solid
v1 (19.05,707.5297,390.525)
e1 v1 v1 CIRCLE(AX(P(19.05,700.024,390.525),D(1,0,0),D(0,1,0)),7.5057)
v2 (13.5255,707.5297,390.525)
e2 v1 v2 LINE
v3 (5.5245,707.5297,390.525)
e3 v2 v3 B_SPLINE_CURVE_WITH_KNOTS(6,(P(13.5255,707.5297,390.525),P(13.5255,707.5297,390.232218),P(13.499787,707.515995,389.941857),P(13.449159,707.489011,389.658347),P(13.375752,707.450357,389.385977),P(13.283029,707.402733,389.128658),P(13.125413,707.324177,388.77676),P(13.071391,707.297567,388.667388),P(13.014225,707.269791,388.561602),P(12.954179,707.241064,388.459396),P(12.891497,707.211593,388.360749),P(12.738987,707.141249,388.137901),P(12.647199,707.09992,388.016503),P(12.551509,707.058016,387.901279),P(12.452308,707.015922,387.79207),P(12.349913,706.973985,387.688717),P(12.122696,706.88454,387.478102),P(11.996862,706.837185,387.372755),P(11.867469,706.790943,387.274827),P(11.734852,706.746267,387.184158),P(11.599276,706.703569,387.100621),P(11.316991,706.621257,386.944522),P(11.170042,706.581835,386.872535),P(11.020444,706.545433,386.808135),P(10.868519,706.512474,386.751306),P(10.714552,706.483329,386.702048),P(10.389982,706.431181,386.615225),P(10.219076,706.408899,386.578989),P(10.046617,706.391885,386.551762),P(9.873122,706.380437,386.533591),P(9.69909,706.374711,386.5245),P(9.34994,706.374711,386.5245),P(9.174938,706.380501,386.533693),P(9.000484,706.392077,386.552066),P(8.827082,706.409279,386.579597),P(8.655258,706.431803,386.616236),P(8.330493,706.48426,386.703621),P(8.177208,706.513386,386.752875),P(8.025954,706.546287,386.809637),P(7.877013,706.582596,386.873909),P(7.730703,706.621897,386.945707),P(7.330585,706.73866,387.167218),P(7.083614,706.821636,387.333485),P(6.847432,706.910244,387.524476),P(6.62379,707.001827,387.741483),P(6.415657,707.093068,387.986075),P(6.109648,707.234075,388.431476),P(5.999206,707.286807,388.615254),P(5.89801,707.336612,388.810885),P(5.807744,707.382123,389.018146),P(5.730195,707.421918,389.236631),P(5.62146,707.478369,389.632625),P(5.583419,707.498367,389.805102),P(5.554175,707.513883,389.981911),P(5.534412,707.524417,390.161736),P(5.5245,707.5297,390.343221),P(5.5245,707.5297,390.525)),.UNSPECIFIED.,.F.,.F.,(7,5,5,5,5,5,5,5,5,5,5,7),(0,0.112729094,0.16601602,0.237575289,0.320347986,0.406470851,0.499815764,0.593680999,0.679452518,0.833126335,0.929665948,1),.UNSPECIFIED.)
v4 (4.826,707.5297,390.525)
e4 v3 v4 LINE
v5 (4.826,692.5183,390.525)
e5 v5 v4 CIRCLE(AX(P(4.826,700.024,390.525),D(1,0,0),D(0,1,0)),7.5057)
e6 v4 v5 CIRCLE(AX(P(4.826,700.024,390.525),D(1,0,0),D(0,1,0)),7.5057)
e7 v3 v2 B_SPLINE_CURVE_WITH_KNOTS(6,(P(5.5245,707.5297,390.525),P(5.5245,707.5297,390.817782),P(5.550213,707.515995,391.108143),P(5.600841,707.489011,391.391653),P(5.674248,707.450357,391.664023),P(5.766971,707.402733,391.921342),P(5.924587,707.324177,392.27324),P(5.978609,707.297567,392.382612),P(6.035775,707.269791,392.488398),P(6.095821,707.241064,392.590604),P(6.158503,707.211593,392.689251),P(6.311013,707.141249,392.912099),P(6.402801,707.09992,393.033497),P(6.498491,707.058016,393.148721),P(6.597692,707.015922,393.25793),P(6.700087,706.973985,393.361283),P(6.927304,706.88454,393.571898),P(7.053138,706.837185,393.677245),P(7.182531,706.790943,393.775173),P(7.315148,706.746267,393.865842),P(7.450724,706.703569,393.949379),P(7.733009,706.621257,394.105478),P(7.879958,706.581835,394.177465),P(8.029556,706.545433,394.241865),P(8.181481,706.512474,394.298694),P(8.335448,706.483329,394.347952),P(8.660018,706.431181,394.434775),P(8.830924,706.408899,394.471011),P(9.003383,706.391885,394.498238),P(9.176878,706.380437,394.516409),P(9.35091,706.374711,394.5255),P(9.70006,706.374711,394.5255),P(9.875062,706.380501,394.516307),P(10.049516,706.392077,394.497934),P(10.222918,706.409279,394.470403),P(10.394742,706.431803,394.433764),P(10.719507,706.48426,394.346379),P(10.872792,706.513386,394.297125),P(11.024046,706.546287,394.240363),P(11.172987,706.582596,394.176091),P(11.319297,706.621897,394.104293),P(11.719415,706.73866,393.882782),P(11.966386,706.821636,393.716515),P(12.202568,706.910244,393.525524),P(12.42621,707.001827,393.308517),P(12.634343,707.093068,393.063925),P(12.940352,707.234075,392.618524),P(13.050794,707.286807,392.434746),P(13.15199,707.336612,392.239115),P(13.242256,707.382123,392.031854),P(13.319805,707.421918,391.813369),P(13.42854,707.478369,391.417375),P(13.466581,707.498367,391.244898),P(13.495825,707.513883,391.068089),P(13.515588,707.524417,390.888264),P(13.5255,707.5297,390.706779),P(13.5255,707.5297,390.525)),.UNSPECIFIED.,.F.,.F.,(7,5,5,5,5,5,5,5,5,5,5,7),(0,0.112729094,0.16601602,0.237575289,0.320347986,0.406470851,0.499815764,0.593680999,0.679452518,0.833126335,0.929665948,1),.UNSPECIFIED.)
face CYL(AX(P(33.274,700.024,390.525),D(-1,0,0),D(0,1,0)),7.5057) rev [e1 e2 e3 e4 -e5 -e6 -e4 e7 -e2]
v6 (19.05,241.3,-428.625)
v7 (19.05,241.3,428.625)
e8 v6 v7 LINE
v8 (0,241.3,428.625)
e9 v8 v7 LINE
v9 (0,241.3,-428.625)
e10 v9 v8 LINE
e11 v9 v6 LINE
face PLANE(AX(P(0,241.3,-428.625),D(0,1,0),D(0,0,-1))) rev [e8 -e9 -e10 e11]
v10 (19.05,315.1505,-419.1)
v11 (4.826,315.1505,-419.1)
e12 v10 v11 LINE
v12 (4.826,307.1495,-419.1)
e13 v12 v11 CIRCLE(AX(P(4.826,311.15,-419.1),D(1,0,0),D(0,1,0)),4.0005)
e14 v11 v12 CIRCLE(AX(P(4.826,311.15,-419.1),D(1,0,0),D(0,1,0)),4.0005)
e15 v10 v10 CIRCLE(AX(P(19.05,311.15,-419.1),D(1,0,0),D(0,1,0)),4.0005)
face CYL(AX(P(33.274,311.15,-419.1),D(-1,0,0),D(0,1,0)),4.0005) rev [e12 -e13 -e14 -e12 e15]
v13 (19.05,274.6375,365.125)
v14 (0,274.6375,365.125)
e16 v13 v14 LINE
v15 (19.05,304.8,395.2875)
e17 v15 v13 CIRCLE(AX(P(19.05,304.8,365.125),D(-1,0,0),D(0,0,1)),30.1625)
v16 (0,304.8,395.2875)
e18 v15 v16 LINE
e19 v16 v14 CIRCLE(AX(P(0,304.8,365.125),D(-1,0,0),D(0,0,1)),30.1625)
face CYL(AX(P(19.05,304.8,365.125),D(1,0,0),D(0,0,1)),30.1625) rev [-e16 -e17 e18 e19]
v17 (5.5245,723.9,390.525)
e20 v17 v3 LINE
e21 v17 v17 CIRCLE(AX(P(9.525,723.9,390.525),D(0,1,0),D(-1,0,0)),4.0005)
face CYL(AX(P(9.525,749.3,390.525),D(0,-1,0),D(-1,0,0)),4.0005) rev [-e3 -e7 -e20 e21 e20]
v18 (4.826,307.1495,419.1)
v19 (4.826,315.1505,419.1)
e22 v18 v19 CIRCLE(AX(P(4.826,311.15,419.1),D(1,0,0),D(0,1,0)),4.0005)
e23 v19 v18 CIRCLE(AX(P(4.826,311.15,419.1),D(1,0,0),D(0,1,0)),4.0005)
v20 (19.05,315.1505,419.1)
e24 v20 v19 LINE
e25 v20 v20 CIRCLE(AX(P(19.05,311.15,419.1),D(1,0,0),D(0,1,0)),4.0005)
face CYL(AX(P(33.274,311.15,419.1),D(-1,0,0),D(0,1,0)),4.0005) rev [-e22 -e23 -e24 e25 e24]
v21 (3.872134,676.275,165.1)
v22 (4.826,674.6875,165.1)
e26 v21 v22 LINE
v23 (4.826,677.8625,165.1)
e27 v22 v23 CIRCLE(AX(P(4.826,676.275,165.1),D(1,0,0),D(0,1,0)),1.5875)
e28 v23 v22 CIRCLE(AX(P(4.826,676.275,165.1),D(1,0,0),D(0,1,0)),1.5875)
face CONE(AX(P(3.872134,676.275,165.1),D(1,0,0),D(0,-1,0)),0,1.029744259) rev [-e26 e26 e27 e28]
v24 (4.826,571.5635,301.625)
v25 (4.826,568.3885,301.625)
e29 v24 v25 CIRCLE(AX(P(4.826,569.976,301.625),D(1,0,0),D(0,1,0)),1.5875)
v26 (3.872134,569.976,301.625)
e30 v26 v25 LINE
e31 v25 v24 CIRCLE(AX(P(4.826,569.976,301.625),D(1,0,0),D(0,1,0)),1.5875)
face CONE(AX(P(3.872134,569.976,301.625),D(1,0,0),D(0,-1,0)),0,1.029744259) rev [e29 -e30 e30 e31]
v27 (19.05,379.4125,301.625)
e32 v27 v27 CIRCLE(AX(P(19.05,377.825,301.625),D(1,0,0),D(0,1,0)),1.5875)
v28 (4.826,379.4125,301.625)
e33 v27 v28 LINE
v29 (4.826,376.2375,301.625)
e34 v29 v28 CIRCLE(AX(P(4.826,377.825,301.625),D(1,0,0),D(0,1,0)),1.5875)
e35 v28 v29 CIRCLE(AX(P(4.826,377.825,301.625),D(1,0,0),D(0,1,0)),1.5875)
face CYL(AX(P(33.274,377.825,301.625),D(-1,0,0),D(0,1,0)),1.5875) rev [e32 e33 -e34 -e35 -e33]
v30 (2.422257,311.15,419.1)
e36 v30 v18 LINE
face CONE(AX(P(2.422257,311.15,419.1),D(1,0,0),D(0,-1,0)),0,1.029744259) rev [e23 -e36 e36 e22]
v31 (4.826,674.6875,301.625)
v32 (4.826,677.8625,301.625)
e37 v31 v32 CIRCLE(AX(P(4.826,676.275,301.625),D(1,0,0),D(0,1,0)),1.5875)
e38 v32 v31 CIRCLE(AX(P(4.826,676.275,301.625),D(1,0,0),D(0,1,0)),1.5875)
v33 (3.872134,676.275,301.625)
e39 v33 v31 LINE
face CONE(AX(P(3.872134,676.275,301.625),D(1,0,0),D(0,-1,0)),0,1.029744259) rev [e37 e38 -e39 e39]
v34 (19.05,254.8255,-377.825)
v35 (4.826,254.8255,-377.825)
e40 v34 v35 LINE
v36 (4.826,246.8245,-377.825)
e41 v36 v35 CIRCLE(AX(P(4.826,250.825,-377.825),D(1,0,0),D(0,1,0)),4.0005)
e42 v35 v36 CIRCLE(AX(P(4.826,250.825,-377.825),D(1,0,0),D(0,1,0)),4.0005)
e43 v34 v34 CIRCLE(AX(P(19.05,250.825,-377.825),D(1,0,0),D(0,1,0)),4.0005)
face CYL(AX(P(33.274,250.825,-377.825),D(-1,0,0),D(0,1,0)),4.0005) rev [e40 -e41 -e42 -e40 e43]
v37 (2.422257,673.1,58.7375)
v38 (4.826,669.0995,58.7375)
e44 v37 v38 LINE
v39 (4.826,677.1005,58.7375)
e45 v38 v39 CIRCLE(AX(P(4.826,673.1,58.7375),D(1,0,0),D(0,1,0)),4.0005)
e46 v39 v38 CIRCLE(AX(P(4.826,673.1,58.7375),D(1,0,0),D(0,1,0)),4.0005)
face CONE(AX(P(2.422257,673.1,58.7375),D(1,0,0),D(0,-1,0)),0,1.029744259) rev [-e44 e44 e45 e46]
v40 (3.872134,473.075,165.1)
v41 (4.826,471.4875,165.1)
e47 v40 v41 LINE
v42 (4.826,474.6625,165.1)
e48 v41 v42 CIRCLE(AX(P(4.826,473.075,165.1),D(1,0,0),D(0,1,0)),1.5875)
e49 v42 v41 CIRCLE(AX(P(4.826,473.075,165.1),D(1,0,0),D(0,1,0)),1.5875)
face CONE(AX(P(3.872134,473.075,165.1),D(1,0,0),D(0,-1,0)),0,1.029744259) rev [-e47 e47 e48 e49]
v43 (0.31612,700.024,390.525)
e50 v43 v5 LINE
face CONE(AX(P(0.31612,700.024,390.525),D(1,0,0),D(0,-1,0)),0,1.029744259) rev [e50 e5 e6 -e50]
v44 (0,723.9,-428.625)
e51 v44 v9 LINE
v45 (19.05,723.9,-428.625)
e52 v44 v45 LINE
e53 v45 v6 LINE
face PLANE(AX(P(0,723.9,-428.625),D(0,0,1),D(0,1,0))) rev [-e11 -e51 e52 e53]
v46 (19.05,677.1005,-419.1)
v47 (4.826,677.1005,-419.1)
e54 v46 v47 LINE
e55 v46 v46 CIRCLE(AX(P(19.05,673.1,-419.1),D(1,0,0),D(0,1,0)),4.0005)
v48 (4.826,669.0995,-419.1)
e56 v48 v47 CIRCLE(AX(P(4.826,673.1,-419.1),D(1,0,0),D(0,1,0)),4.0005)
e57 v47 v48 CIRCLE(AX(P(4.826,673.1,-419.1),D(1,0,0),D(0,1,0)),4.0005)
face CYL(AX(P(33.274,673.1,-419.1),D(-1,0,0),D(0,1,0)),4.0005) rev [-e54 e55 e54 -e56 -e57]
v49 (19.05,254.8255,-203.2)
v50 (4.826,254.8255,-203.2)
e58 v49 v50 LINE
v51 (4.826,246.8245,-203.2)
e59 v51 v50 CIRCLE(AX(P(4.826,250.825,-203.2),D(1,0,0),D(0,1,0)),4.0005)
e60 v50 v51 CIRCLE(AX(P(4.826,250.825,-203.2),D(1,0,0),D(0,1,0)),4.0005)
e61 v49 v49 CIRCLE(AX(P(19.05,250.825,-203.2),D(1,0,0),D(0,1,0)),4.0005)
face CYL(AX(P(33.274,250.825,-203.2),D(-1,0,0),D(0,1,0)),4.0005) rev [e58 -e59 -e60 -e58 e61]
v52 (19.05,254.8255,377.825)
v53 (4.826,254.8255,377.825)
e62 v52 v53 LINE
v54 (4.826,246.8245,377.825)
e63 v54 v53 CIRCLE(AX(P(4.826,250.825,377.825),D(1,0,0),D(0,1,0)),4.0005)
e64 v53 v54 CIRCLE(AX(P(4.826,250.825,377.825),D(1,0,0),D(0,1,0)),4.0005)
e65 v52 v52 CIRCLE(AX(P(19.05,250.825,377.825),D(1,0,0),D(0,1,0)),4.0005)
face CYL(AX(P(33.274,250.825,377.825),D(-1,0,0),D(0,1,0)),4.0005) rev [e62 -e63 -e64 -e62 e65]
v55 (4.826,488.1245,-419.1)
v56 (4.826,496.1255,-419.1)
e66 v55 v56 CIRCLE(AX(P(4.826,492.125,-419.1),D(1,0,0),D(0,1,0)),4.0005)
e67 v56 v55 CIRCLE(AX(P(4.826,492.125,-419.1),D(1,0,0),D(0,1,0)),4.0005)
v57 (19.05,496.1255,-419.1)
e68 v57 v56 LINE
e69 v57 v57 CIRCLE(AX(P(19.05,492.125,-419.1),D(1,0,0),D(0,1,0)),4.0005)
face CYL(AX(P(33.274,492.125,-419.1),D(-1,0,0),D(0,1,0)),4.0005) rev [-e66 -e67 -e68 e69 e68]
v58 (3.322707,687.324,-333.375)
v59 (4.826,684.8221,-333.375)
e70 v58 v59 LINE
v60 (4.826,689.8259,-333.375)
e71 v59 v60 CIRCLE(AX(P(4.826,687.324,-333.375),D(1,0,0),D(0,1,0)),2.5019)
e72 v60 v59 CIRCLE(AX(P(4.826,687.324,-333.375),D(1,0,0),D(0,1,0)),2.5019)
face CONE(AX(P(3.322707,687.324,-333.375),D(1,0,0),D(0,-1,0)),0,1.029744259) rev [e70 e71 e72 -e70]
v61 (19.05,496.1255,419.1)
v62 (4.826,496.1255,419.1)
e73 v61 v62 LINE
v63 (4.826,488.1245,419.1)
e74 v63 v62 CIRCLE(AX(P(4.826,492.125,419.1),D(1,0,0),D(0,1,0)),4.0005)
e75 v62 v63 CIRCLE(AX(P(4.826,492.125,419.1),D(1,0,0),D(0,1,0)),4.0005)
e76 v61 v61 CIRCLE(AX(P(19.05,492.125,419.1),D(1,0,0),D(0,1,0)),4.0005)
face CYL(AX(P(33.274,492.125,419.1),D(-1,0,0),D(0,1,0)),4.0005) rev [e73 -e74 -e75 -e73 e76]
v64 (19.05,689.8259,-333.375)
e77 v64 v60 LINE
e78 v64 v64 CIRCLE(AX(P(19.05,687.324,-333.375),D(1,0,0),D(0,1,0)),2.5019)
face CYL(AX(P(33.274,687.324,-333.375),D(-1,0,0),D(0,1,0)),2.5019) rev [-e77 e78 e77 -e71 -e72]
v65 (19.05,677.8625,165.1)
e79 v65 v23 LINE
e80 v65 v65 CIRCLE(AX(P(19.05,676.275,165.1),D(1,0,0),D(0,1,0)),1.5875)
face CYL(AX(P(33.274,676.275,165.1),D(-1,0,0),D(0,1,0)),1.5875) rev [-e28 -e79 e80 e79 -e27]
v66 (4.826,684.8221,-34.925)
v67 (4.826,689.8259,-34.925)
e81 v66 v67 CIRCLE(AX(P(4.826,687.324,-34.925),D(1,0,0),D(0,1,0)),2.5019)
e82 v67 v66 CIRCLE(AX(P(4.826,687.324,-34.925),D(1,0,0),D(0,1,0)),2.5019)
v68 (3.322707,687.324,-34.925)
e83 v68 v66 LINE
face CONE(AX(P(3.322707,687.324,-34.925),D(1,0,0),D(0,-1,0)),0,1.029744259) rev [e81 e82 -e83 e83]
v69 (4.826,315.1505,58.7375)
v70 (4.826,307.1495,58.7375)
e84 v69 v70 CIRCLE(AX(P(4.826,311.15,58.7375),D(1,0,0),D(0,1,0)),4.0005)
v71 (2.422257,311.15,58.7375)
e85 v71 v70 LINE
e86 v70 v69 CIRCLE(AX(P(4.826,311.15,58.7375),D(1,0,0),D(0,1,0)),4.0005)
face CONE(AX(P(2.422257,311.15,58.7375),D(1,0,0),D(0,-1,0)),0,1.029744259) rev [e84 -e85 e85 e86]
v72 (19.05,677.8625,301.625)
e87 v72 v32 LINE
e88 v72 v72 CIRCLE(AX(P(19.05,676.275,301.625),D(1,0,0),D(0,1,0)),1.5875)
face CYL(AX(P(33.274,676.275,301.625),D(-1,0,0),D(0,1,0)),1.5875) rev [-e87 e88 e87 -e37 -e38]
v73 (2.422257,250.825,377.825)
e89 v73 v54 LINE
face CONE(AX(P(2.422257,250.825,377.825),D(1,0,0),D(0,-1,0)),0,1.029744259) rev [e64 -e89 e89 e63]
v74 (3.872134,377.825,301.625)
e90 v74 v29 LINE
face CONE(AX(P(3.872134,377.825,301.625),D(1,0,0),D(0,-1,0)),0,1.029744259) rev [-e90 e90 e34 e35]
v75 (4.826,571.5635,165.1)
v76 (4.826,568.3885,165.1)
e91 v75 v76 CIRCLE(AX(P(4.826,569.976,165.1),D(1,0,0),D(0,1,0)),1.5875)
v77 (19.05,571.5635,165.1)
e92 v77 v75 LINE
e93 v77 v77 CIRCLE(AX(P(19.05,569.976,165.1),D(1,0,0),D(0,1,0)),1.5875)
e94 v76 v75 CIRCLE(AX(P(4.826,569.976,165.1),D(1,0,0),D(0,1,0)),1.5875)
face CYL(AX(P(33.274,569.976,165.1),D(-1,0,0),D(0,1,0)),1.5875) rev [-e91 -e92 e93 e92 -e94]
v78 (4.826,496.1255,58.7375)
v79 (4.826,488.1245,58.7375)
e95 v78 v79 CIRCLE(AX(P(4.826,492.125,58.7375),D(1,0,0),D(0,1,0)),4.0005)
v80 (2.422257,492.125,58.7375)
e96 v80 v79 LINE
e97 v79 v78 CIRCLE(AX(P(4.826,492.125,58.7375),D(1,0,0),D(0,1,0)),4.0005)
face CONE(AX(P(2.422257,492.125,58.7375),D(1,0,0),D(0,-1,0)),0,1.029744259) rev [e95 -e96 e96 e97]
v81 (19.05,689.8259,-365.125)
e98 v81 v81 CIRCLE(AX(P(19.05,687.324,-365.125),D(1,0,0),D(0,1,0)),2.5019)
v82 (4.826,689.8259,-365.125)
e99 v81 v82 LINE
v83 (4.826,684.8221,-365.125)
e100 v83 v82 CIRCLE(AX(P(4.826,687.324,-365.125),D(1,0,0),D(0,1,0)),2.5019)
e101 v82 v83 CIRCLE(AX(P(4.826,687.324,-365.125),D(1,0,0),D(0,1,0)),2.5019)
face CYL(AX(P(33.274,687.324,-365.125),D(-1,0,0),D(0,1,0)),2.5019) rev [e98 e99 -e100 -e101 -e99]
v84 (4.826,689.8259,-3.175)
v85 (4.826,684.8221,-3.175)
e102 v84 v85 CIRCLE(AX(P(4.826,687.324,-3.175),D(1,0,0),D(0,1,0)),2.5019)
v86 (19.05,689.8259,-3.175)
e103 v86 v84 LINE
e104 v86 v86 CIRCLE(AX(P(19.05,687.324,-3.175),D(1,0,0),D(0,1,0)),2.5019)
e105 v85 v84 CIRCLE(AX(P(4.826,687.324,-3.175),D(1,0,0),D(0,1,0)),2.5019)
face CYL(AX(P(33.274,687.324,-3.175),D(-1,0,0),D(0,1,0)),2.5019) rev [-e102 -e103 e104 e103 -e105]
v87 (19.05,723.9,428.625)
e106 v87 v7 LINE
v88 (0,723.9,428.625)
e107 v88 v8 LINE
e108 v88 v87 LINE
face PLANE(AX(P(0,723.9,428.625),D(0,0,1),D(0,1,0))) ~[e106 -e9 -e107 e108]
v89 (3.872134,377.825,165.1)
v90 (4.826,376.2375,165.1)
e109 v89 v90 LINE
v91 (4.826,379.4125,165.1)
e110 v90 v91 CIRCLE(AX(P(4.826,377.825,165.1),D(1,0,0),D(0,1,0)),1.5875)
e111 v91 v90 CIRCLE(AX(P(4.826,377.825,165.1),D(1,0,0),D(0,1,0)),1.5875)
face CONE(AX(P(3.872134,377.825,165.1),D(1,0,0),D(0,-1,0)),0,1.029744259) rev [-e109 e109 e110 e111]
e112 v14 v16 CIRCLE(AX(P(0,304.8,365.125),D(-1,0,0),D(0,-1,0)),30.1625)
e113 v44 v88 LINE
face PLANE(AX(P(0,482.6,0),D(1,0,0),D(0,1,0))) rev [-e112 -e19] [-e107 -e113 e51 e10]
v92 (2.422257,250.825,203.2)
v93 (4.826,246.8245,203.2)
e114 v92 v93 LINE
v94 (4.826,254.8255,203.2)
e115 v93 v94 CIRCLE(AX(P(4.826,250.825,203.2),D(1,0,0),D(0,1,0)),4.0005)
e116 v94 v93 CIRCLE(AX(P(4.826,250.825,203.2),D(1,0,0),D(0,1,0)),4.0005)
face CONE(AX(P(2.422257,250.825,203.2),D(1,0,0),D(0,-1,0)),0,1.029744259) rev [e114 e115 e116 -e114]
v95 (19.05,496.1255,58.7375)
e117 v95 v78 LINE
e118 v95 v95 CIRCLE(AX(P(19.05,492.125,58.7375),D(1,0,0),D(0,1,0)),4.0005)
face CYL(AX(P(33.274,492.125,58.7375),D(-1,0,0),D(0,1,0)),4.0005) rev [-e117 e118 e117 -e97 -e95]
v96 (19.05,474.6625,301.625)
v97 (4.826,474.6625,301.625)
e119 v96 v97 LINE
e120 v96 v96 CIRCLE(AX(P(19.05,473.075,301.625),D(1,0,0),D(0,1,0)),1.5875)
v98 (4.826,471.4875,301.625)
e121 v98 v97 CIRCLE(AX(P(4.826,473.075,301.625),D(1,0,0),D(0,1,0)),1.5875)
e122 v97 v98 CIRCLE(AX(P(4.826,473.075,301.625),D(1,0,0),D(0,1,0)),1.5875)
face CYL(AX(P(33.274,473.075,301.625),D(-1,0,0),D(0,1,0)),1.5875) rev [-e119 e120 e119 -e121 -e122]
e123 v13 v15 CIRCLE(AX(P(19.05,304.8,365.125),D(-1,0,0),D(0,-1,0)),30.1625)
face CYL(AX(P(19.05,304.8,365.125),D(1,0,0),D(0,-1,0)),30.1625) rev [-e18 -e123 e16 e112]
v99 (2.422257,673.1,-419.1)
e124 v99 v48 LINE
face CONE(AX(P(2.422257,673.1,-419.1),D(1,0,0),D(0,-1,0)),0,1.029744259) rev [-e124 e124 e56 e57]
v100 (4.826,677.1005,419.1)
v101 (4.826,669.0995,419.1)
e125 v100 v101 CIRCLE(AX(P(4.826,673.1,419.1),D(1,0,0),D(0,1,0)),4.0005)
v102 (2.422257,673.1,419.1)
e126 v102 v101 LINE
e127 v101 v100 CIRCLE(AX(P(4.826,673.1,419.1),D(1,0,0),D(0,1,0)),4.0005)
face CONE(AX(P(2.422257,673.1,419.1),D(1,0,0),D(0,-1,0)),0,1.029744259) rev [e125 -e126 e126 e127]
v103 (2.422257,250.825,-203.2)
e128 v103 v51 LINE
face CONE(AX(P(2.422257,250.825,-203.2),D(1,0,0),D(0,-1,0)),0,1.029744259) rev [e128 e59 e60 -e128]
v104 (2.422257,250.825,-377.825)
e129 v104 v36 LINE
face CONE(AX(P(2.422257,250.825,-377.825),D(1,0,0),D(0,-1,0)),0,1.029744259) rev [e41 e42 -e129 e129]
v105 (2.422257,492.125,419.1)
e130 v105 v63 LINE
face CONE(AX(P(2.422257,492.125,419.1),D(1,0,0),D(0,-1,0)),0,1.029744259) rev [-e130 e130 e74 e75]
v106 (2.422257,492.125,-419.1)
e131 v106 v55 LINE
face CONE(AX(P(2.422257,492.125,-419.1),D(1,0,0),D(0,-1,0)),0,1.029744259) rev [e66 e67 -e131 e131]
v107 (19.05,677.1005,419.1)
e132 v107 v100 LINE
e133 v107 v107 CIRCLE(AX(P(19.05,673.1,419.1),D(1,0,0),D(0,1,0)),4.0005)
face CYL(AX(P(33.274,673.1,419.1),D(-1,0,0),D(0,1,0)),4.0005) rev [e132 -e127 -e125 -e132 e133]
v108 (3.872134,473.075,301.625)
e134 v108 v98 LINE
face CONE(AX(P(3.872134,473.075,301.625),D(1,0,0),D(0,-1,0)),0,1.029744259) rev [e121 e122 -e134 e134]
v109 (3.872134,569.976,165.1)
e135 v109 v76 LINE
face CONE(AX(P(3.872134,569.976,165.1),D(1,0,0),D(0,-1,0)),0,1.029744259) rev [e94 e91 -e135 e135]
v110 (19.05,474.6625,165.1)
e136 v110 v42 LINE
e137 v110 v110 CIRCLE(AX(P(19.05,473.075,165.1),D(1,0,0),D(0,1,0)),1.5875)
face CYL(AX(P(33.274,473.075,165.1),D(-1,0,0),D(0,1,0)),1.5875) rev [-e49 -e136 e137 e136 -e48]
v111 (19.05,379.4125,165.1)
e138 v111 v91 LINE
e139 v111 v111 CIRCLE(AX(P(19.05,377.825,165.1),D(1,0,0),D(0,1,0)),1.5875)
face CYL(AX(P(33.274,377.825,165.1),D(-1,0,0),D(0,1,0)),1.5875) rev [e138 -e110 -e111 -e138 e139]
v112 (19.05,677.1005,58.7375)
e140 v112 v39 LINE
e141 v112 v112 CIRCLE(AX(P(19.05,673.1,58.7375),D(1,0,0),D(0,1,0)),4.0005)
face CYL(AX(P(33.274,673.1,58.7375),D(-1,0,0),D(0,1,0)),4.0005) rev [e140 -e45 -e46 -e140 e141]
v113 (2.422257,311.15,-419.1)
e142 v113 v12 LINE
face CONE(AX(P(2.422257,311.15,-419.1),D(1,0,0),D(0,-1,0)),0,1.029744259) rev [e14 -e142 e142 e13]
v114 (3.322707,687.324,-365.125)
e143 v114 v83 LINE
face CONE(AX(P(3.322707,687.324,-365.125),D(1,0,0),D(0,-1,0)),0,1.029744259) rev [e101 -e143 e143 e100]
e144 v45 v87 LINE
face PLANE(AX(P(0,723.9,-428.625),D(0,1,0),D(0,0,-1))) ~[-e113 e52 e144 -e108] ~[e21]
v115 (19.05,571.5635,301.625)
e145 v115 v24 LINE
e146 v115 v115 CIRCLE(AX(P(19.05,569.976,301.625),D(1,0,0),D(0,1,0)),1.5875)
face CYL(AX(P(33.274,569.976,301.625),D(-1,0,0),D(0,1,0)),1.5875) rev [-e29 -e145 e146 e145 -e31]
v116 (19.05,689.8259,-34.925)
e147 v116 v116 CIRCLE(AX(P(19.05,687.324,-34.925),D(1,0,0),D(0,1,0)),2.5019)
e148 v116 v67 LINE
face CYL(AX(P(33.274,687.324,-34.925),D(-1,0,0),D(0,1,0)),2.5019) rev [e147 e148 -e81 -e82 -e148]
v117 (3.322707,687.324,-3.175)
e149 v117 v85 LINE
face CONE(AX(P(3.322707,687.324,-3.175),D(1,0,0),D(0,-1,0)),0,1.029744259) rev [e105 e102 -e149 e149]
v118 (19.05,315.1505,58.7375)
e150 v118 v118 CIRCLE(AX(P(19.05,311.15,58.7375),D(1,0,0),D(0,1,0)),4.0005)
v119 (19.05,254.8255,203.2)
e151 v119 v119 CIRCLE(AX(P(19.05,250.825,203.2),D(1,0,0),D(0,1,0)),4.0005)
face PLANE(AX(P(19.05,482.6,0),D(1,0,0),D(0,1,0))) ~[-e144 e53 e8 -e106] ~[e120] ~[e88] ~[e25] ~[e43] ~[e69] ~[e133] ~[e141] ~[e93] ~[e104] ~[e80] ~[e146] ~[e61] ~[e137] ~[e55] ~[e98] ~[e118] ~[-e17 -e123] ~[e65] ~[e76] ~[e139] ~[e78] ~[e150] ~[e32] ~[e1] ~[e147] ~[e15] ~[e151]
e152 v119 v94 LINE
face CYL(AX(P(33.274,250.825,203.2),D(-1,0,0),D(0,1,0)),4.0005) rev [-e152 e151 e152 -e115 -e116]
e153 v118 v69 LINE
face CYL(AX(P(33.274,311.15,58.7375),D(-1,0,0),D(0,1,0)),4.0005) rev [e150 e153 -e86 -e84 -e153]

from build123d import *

# Parameters (mm, degrees)
F0_W      = 482.6
F0_H      = 857.25
F1_DEPTH  = 19.05
F3_D      = 8.001
F3_DEPTH  = 14.224
F3_TIP    = 2.4037429064
F5_D      = 15.0114
F5_DEPTH  = 14.224
F5_TIP    = 4.5098795482
F7_D      = 8.001
F7_DEPTH  = 25.4
F7_TIP    = 2.4037429064
F9_D      = 3.175
F9_DEPTH  = 14.224
F9_TIP    = 0.9538662327
F10_D     = 5.0038
F10_DEPTH = 14.224
F10_TIP   = 1.5032931827
F12_DEPTH = 25.4
F13_D     = 8.001
F13_DEPTH = 14.224
F13_TIP   = 2.4037429064


with BuildPart() as f1:
    # F0 (on Right) → F1 (new body)
    with BuildSketch(Plane.YZ):
        Rectangle(F0_W, F0_H)
    extrude(amount=F1_DEPTH)

    # F3
    with Locations(Plane.YZ.offset(19.05)):
        with Locations((-190.5, 419.1), (-9.525, 419.1), (171.45, 419.1), (231.775, 377.825), (231.775, 203.2), (231.775, -203.2), (231.775, -377.825), (171.45, -419.1), (-9.525, -419.1), (-190.5, -419.1)):
            Hole(F3_D / 2, depth=F3_DEPTH)
            with Locations((0, 0, -(F3_DEPTH + F3_TIP / 2))):  # 118° drill point
                Cone(0, F3_D / 2, F3_TIP, mode=Mode.SUBTRACT)

    # F5
    with Locations(Plane.YZ.offset(19.05)):
        with Locations((-217.424, 390.525)):
            Hole(F5_D / 2, depth=F5_DEPTH)
            with Locations((0, 0, -(F5_DEPTH + F5_TIP / 2))):  # 118° drill point
                Cone(0, F5_D / 2, F5_TIP, mode=Mode.SUBTRACT)

    # F7
    with Locations(Plane.XZ.offset(241.3)):
        with Locations((9.525, 390.525)):
            Hole(F7_D / 2, depth=F7_DEPTH)
            with Locations((0, 0, -(F7_DEPTH + F7_TIP / 2))):  # 118° drill point
                Cone(0, F7_D / 2, F7_TIP, mode=Mode.SUBTRACT)

    # F9
    with Locations(Plane.YZ.offset(19.05)):
        with Locations((-193.675, 301.625), (-87.376, 301.625), (104.775, 301.625), (104.775, 165.1), (9.525, 165.1), (-87.376, 165.1), (9.525, 301.625), (-193.675, 165.1)):
            Hole(F9_D / 2, depth=F9_DEPTH)
            with Locations((0, 0, -(F9_DEPTH + F9_TIP / 2))):  # 118° drill point
                Cone(0, F9_D / 2, F9_TIP, mode=Mode.SUBTRACT)

    # F10
    with Locations(Plane.YZ.offset(19.05)):
        with Locations((-204.724, -3.175), (-204.724, -34.925), (-204.724, -333.375), (-204.724, -365.125)):
            Hole(F10_D / 2, depth=F10_DEPTH)
            with Locations((0, 0, -(F10_DEPTH + F10_TIP / 2))):  # 118° drill point
                Cone(0, F10_D / 2, F10_TIP, mode=Mode.SUBTRACT)

    # F11 (on face) → F12 (cut)
    with BuildSketch(Plane.YZ.offset(19.05)):
        with BuildLine():
            ThreePointArc((207.9625, 365.125), (199.1281082875, 386.4531082875), (177.8, 395.2875))
            ThreePointArc((177.8, 395.2875), (156.4718917125, 343.7968917125), (207.9625, 365.125))
        make_face()
    extrude(amount=-F12_DEPTH, mode=Mode.SUBTRACT)

    # F13
    with Locations(Plane.YZ.offset(19.05)):
        with Locations((-190.5, 58.7375), (-9.525, 58.7375), (171.45, 58.7375)):
            Hole(F13_D / 2, depth=F13_DEPTH)
            with Locations((0, 0, -(F13_DEPTH + F13_TIP / 2))):  # 118° drill point
                Cone(0, F13_D / 2, F13_TIP, mode=Mode.SUBTRACT)


with BuildPart() as f14_1:
    # F14: instance of F1
    add(f1.part.mirror(Plane(origin=(9.525, 241.3, 0), x_dir=(-1, 0, 0), z_dir=(0, 1, 0))))


solid = f14_1.part
